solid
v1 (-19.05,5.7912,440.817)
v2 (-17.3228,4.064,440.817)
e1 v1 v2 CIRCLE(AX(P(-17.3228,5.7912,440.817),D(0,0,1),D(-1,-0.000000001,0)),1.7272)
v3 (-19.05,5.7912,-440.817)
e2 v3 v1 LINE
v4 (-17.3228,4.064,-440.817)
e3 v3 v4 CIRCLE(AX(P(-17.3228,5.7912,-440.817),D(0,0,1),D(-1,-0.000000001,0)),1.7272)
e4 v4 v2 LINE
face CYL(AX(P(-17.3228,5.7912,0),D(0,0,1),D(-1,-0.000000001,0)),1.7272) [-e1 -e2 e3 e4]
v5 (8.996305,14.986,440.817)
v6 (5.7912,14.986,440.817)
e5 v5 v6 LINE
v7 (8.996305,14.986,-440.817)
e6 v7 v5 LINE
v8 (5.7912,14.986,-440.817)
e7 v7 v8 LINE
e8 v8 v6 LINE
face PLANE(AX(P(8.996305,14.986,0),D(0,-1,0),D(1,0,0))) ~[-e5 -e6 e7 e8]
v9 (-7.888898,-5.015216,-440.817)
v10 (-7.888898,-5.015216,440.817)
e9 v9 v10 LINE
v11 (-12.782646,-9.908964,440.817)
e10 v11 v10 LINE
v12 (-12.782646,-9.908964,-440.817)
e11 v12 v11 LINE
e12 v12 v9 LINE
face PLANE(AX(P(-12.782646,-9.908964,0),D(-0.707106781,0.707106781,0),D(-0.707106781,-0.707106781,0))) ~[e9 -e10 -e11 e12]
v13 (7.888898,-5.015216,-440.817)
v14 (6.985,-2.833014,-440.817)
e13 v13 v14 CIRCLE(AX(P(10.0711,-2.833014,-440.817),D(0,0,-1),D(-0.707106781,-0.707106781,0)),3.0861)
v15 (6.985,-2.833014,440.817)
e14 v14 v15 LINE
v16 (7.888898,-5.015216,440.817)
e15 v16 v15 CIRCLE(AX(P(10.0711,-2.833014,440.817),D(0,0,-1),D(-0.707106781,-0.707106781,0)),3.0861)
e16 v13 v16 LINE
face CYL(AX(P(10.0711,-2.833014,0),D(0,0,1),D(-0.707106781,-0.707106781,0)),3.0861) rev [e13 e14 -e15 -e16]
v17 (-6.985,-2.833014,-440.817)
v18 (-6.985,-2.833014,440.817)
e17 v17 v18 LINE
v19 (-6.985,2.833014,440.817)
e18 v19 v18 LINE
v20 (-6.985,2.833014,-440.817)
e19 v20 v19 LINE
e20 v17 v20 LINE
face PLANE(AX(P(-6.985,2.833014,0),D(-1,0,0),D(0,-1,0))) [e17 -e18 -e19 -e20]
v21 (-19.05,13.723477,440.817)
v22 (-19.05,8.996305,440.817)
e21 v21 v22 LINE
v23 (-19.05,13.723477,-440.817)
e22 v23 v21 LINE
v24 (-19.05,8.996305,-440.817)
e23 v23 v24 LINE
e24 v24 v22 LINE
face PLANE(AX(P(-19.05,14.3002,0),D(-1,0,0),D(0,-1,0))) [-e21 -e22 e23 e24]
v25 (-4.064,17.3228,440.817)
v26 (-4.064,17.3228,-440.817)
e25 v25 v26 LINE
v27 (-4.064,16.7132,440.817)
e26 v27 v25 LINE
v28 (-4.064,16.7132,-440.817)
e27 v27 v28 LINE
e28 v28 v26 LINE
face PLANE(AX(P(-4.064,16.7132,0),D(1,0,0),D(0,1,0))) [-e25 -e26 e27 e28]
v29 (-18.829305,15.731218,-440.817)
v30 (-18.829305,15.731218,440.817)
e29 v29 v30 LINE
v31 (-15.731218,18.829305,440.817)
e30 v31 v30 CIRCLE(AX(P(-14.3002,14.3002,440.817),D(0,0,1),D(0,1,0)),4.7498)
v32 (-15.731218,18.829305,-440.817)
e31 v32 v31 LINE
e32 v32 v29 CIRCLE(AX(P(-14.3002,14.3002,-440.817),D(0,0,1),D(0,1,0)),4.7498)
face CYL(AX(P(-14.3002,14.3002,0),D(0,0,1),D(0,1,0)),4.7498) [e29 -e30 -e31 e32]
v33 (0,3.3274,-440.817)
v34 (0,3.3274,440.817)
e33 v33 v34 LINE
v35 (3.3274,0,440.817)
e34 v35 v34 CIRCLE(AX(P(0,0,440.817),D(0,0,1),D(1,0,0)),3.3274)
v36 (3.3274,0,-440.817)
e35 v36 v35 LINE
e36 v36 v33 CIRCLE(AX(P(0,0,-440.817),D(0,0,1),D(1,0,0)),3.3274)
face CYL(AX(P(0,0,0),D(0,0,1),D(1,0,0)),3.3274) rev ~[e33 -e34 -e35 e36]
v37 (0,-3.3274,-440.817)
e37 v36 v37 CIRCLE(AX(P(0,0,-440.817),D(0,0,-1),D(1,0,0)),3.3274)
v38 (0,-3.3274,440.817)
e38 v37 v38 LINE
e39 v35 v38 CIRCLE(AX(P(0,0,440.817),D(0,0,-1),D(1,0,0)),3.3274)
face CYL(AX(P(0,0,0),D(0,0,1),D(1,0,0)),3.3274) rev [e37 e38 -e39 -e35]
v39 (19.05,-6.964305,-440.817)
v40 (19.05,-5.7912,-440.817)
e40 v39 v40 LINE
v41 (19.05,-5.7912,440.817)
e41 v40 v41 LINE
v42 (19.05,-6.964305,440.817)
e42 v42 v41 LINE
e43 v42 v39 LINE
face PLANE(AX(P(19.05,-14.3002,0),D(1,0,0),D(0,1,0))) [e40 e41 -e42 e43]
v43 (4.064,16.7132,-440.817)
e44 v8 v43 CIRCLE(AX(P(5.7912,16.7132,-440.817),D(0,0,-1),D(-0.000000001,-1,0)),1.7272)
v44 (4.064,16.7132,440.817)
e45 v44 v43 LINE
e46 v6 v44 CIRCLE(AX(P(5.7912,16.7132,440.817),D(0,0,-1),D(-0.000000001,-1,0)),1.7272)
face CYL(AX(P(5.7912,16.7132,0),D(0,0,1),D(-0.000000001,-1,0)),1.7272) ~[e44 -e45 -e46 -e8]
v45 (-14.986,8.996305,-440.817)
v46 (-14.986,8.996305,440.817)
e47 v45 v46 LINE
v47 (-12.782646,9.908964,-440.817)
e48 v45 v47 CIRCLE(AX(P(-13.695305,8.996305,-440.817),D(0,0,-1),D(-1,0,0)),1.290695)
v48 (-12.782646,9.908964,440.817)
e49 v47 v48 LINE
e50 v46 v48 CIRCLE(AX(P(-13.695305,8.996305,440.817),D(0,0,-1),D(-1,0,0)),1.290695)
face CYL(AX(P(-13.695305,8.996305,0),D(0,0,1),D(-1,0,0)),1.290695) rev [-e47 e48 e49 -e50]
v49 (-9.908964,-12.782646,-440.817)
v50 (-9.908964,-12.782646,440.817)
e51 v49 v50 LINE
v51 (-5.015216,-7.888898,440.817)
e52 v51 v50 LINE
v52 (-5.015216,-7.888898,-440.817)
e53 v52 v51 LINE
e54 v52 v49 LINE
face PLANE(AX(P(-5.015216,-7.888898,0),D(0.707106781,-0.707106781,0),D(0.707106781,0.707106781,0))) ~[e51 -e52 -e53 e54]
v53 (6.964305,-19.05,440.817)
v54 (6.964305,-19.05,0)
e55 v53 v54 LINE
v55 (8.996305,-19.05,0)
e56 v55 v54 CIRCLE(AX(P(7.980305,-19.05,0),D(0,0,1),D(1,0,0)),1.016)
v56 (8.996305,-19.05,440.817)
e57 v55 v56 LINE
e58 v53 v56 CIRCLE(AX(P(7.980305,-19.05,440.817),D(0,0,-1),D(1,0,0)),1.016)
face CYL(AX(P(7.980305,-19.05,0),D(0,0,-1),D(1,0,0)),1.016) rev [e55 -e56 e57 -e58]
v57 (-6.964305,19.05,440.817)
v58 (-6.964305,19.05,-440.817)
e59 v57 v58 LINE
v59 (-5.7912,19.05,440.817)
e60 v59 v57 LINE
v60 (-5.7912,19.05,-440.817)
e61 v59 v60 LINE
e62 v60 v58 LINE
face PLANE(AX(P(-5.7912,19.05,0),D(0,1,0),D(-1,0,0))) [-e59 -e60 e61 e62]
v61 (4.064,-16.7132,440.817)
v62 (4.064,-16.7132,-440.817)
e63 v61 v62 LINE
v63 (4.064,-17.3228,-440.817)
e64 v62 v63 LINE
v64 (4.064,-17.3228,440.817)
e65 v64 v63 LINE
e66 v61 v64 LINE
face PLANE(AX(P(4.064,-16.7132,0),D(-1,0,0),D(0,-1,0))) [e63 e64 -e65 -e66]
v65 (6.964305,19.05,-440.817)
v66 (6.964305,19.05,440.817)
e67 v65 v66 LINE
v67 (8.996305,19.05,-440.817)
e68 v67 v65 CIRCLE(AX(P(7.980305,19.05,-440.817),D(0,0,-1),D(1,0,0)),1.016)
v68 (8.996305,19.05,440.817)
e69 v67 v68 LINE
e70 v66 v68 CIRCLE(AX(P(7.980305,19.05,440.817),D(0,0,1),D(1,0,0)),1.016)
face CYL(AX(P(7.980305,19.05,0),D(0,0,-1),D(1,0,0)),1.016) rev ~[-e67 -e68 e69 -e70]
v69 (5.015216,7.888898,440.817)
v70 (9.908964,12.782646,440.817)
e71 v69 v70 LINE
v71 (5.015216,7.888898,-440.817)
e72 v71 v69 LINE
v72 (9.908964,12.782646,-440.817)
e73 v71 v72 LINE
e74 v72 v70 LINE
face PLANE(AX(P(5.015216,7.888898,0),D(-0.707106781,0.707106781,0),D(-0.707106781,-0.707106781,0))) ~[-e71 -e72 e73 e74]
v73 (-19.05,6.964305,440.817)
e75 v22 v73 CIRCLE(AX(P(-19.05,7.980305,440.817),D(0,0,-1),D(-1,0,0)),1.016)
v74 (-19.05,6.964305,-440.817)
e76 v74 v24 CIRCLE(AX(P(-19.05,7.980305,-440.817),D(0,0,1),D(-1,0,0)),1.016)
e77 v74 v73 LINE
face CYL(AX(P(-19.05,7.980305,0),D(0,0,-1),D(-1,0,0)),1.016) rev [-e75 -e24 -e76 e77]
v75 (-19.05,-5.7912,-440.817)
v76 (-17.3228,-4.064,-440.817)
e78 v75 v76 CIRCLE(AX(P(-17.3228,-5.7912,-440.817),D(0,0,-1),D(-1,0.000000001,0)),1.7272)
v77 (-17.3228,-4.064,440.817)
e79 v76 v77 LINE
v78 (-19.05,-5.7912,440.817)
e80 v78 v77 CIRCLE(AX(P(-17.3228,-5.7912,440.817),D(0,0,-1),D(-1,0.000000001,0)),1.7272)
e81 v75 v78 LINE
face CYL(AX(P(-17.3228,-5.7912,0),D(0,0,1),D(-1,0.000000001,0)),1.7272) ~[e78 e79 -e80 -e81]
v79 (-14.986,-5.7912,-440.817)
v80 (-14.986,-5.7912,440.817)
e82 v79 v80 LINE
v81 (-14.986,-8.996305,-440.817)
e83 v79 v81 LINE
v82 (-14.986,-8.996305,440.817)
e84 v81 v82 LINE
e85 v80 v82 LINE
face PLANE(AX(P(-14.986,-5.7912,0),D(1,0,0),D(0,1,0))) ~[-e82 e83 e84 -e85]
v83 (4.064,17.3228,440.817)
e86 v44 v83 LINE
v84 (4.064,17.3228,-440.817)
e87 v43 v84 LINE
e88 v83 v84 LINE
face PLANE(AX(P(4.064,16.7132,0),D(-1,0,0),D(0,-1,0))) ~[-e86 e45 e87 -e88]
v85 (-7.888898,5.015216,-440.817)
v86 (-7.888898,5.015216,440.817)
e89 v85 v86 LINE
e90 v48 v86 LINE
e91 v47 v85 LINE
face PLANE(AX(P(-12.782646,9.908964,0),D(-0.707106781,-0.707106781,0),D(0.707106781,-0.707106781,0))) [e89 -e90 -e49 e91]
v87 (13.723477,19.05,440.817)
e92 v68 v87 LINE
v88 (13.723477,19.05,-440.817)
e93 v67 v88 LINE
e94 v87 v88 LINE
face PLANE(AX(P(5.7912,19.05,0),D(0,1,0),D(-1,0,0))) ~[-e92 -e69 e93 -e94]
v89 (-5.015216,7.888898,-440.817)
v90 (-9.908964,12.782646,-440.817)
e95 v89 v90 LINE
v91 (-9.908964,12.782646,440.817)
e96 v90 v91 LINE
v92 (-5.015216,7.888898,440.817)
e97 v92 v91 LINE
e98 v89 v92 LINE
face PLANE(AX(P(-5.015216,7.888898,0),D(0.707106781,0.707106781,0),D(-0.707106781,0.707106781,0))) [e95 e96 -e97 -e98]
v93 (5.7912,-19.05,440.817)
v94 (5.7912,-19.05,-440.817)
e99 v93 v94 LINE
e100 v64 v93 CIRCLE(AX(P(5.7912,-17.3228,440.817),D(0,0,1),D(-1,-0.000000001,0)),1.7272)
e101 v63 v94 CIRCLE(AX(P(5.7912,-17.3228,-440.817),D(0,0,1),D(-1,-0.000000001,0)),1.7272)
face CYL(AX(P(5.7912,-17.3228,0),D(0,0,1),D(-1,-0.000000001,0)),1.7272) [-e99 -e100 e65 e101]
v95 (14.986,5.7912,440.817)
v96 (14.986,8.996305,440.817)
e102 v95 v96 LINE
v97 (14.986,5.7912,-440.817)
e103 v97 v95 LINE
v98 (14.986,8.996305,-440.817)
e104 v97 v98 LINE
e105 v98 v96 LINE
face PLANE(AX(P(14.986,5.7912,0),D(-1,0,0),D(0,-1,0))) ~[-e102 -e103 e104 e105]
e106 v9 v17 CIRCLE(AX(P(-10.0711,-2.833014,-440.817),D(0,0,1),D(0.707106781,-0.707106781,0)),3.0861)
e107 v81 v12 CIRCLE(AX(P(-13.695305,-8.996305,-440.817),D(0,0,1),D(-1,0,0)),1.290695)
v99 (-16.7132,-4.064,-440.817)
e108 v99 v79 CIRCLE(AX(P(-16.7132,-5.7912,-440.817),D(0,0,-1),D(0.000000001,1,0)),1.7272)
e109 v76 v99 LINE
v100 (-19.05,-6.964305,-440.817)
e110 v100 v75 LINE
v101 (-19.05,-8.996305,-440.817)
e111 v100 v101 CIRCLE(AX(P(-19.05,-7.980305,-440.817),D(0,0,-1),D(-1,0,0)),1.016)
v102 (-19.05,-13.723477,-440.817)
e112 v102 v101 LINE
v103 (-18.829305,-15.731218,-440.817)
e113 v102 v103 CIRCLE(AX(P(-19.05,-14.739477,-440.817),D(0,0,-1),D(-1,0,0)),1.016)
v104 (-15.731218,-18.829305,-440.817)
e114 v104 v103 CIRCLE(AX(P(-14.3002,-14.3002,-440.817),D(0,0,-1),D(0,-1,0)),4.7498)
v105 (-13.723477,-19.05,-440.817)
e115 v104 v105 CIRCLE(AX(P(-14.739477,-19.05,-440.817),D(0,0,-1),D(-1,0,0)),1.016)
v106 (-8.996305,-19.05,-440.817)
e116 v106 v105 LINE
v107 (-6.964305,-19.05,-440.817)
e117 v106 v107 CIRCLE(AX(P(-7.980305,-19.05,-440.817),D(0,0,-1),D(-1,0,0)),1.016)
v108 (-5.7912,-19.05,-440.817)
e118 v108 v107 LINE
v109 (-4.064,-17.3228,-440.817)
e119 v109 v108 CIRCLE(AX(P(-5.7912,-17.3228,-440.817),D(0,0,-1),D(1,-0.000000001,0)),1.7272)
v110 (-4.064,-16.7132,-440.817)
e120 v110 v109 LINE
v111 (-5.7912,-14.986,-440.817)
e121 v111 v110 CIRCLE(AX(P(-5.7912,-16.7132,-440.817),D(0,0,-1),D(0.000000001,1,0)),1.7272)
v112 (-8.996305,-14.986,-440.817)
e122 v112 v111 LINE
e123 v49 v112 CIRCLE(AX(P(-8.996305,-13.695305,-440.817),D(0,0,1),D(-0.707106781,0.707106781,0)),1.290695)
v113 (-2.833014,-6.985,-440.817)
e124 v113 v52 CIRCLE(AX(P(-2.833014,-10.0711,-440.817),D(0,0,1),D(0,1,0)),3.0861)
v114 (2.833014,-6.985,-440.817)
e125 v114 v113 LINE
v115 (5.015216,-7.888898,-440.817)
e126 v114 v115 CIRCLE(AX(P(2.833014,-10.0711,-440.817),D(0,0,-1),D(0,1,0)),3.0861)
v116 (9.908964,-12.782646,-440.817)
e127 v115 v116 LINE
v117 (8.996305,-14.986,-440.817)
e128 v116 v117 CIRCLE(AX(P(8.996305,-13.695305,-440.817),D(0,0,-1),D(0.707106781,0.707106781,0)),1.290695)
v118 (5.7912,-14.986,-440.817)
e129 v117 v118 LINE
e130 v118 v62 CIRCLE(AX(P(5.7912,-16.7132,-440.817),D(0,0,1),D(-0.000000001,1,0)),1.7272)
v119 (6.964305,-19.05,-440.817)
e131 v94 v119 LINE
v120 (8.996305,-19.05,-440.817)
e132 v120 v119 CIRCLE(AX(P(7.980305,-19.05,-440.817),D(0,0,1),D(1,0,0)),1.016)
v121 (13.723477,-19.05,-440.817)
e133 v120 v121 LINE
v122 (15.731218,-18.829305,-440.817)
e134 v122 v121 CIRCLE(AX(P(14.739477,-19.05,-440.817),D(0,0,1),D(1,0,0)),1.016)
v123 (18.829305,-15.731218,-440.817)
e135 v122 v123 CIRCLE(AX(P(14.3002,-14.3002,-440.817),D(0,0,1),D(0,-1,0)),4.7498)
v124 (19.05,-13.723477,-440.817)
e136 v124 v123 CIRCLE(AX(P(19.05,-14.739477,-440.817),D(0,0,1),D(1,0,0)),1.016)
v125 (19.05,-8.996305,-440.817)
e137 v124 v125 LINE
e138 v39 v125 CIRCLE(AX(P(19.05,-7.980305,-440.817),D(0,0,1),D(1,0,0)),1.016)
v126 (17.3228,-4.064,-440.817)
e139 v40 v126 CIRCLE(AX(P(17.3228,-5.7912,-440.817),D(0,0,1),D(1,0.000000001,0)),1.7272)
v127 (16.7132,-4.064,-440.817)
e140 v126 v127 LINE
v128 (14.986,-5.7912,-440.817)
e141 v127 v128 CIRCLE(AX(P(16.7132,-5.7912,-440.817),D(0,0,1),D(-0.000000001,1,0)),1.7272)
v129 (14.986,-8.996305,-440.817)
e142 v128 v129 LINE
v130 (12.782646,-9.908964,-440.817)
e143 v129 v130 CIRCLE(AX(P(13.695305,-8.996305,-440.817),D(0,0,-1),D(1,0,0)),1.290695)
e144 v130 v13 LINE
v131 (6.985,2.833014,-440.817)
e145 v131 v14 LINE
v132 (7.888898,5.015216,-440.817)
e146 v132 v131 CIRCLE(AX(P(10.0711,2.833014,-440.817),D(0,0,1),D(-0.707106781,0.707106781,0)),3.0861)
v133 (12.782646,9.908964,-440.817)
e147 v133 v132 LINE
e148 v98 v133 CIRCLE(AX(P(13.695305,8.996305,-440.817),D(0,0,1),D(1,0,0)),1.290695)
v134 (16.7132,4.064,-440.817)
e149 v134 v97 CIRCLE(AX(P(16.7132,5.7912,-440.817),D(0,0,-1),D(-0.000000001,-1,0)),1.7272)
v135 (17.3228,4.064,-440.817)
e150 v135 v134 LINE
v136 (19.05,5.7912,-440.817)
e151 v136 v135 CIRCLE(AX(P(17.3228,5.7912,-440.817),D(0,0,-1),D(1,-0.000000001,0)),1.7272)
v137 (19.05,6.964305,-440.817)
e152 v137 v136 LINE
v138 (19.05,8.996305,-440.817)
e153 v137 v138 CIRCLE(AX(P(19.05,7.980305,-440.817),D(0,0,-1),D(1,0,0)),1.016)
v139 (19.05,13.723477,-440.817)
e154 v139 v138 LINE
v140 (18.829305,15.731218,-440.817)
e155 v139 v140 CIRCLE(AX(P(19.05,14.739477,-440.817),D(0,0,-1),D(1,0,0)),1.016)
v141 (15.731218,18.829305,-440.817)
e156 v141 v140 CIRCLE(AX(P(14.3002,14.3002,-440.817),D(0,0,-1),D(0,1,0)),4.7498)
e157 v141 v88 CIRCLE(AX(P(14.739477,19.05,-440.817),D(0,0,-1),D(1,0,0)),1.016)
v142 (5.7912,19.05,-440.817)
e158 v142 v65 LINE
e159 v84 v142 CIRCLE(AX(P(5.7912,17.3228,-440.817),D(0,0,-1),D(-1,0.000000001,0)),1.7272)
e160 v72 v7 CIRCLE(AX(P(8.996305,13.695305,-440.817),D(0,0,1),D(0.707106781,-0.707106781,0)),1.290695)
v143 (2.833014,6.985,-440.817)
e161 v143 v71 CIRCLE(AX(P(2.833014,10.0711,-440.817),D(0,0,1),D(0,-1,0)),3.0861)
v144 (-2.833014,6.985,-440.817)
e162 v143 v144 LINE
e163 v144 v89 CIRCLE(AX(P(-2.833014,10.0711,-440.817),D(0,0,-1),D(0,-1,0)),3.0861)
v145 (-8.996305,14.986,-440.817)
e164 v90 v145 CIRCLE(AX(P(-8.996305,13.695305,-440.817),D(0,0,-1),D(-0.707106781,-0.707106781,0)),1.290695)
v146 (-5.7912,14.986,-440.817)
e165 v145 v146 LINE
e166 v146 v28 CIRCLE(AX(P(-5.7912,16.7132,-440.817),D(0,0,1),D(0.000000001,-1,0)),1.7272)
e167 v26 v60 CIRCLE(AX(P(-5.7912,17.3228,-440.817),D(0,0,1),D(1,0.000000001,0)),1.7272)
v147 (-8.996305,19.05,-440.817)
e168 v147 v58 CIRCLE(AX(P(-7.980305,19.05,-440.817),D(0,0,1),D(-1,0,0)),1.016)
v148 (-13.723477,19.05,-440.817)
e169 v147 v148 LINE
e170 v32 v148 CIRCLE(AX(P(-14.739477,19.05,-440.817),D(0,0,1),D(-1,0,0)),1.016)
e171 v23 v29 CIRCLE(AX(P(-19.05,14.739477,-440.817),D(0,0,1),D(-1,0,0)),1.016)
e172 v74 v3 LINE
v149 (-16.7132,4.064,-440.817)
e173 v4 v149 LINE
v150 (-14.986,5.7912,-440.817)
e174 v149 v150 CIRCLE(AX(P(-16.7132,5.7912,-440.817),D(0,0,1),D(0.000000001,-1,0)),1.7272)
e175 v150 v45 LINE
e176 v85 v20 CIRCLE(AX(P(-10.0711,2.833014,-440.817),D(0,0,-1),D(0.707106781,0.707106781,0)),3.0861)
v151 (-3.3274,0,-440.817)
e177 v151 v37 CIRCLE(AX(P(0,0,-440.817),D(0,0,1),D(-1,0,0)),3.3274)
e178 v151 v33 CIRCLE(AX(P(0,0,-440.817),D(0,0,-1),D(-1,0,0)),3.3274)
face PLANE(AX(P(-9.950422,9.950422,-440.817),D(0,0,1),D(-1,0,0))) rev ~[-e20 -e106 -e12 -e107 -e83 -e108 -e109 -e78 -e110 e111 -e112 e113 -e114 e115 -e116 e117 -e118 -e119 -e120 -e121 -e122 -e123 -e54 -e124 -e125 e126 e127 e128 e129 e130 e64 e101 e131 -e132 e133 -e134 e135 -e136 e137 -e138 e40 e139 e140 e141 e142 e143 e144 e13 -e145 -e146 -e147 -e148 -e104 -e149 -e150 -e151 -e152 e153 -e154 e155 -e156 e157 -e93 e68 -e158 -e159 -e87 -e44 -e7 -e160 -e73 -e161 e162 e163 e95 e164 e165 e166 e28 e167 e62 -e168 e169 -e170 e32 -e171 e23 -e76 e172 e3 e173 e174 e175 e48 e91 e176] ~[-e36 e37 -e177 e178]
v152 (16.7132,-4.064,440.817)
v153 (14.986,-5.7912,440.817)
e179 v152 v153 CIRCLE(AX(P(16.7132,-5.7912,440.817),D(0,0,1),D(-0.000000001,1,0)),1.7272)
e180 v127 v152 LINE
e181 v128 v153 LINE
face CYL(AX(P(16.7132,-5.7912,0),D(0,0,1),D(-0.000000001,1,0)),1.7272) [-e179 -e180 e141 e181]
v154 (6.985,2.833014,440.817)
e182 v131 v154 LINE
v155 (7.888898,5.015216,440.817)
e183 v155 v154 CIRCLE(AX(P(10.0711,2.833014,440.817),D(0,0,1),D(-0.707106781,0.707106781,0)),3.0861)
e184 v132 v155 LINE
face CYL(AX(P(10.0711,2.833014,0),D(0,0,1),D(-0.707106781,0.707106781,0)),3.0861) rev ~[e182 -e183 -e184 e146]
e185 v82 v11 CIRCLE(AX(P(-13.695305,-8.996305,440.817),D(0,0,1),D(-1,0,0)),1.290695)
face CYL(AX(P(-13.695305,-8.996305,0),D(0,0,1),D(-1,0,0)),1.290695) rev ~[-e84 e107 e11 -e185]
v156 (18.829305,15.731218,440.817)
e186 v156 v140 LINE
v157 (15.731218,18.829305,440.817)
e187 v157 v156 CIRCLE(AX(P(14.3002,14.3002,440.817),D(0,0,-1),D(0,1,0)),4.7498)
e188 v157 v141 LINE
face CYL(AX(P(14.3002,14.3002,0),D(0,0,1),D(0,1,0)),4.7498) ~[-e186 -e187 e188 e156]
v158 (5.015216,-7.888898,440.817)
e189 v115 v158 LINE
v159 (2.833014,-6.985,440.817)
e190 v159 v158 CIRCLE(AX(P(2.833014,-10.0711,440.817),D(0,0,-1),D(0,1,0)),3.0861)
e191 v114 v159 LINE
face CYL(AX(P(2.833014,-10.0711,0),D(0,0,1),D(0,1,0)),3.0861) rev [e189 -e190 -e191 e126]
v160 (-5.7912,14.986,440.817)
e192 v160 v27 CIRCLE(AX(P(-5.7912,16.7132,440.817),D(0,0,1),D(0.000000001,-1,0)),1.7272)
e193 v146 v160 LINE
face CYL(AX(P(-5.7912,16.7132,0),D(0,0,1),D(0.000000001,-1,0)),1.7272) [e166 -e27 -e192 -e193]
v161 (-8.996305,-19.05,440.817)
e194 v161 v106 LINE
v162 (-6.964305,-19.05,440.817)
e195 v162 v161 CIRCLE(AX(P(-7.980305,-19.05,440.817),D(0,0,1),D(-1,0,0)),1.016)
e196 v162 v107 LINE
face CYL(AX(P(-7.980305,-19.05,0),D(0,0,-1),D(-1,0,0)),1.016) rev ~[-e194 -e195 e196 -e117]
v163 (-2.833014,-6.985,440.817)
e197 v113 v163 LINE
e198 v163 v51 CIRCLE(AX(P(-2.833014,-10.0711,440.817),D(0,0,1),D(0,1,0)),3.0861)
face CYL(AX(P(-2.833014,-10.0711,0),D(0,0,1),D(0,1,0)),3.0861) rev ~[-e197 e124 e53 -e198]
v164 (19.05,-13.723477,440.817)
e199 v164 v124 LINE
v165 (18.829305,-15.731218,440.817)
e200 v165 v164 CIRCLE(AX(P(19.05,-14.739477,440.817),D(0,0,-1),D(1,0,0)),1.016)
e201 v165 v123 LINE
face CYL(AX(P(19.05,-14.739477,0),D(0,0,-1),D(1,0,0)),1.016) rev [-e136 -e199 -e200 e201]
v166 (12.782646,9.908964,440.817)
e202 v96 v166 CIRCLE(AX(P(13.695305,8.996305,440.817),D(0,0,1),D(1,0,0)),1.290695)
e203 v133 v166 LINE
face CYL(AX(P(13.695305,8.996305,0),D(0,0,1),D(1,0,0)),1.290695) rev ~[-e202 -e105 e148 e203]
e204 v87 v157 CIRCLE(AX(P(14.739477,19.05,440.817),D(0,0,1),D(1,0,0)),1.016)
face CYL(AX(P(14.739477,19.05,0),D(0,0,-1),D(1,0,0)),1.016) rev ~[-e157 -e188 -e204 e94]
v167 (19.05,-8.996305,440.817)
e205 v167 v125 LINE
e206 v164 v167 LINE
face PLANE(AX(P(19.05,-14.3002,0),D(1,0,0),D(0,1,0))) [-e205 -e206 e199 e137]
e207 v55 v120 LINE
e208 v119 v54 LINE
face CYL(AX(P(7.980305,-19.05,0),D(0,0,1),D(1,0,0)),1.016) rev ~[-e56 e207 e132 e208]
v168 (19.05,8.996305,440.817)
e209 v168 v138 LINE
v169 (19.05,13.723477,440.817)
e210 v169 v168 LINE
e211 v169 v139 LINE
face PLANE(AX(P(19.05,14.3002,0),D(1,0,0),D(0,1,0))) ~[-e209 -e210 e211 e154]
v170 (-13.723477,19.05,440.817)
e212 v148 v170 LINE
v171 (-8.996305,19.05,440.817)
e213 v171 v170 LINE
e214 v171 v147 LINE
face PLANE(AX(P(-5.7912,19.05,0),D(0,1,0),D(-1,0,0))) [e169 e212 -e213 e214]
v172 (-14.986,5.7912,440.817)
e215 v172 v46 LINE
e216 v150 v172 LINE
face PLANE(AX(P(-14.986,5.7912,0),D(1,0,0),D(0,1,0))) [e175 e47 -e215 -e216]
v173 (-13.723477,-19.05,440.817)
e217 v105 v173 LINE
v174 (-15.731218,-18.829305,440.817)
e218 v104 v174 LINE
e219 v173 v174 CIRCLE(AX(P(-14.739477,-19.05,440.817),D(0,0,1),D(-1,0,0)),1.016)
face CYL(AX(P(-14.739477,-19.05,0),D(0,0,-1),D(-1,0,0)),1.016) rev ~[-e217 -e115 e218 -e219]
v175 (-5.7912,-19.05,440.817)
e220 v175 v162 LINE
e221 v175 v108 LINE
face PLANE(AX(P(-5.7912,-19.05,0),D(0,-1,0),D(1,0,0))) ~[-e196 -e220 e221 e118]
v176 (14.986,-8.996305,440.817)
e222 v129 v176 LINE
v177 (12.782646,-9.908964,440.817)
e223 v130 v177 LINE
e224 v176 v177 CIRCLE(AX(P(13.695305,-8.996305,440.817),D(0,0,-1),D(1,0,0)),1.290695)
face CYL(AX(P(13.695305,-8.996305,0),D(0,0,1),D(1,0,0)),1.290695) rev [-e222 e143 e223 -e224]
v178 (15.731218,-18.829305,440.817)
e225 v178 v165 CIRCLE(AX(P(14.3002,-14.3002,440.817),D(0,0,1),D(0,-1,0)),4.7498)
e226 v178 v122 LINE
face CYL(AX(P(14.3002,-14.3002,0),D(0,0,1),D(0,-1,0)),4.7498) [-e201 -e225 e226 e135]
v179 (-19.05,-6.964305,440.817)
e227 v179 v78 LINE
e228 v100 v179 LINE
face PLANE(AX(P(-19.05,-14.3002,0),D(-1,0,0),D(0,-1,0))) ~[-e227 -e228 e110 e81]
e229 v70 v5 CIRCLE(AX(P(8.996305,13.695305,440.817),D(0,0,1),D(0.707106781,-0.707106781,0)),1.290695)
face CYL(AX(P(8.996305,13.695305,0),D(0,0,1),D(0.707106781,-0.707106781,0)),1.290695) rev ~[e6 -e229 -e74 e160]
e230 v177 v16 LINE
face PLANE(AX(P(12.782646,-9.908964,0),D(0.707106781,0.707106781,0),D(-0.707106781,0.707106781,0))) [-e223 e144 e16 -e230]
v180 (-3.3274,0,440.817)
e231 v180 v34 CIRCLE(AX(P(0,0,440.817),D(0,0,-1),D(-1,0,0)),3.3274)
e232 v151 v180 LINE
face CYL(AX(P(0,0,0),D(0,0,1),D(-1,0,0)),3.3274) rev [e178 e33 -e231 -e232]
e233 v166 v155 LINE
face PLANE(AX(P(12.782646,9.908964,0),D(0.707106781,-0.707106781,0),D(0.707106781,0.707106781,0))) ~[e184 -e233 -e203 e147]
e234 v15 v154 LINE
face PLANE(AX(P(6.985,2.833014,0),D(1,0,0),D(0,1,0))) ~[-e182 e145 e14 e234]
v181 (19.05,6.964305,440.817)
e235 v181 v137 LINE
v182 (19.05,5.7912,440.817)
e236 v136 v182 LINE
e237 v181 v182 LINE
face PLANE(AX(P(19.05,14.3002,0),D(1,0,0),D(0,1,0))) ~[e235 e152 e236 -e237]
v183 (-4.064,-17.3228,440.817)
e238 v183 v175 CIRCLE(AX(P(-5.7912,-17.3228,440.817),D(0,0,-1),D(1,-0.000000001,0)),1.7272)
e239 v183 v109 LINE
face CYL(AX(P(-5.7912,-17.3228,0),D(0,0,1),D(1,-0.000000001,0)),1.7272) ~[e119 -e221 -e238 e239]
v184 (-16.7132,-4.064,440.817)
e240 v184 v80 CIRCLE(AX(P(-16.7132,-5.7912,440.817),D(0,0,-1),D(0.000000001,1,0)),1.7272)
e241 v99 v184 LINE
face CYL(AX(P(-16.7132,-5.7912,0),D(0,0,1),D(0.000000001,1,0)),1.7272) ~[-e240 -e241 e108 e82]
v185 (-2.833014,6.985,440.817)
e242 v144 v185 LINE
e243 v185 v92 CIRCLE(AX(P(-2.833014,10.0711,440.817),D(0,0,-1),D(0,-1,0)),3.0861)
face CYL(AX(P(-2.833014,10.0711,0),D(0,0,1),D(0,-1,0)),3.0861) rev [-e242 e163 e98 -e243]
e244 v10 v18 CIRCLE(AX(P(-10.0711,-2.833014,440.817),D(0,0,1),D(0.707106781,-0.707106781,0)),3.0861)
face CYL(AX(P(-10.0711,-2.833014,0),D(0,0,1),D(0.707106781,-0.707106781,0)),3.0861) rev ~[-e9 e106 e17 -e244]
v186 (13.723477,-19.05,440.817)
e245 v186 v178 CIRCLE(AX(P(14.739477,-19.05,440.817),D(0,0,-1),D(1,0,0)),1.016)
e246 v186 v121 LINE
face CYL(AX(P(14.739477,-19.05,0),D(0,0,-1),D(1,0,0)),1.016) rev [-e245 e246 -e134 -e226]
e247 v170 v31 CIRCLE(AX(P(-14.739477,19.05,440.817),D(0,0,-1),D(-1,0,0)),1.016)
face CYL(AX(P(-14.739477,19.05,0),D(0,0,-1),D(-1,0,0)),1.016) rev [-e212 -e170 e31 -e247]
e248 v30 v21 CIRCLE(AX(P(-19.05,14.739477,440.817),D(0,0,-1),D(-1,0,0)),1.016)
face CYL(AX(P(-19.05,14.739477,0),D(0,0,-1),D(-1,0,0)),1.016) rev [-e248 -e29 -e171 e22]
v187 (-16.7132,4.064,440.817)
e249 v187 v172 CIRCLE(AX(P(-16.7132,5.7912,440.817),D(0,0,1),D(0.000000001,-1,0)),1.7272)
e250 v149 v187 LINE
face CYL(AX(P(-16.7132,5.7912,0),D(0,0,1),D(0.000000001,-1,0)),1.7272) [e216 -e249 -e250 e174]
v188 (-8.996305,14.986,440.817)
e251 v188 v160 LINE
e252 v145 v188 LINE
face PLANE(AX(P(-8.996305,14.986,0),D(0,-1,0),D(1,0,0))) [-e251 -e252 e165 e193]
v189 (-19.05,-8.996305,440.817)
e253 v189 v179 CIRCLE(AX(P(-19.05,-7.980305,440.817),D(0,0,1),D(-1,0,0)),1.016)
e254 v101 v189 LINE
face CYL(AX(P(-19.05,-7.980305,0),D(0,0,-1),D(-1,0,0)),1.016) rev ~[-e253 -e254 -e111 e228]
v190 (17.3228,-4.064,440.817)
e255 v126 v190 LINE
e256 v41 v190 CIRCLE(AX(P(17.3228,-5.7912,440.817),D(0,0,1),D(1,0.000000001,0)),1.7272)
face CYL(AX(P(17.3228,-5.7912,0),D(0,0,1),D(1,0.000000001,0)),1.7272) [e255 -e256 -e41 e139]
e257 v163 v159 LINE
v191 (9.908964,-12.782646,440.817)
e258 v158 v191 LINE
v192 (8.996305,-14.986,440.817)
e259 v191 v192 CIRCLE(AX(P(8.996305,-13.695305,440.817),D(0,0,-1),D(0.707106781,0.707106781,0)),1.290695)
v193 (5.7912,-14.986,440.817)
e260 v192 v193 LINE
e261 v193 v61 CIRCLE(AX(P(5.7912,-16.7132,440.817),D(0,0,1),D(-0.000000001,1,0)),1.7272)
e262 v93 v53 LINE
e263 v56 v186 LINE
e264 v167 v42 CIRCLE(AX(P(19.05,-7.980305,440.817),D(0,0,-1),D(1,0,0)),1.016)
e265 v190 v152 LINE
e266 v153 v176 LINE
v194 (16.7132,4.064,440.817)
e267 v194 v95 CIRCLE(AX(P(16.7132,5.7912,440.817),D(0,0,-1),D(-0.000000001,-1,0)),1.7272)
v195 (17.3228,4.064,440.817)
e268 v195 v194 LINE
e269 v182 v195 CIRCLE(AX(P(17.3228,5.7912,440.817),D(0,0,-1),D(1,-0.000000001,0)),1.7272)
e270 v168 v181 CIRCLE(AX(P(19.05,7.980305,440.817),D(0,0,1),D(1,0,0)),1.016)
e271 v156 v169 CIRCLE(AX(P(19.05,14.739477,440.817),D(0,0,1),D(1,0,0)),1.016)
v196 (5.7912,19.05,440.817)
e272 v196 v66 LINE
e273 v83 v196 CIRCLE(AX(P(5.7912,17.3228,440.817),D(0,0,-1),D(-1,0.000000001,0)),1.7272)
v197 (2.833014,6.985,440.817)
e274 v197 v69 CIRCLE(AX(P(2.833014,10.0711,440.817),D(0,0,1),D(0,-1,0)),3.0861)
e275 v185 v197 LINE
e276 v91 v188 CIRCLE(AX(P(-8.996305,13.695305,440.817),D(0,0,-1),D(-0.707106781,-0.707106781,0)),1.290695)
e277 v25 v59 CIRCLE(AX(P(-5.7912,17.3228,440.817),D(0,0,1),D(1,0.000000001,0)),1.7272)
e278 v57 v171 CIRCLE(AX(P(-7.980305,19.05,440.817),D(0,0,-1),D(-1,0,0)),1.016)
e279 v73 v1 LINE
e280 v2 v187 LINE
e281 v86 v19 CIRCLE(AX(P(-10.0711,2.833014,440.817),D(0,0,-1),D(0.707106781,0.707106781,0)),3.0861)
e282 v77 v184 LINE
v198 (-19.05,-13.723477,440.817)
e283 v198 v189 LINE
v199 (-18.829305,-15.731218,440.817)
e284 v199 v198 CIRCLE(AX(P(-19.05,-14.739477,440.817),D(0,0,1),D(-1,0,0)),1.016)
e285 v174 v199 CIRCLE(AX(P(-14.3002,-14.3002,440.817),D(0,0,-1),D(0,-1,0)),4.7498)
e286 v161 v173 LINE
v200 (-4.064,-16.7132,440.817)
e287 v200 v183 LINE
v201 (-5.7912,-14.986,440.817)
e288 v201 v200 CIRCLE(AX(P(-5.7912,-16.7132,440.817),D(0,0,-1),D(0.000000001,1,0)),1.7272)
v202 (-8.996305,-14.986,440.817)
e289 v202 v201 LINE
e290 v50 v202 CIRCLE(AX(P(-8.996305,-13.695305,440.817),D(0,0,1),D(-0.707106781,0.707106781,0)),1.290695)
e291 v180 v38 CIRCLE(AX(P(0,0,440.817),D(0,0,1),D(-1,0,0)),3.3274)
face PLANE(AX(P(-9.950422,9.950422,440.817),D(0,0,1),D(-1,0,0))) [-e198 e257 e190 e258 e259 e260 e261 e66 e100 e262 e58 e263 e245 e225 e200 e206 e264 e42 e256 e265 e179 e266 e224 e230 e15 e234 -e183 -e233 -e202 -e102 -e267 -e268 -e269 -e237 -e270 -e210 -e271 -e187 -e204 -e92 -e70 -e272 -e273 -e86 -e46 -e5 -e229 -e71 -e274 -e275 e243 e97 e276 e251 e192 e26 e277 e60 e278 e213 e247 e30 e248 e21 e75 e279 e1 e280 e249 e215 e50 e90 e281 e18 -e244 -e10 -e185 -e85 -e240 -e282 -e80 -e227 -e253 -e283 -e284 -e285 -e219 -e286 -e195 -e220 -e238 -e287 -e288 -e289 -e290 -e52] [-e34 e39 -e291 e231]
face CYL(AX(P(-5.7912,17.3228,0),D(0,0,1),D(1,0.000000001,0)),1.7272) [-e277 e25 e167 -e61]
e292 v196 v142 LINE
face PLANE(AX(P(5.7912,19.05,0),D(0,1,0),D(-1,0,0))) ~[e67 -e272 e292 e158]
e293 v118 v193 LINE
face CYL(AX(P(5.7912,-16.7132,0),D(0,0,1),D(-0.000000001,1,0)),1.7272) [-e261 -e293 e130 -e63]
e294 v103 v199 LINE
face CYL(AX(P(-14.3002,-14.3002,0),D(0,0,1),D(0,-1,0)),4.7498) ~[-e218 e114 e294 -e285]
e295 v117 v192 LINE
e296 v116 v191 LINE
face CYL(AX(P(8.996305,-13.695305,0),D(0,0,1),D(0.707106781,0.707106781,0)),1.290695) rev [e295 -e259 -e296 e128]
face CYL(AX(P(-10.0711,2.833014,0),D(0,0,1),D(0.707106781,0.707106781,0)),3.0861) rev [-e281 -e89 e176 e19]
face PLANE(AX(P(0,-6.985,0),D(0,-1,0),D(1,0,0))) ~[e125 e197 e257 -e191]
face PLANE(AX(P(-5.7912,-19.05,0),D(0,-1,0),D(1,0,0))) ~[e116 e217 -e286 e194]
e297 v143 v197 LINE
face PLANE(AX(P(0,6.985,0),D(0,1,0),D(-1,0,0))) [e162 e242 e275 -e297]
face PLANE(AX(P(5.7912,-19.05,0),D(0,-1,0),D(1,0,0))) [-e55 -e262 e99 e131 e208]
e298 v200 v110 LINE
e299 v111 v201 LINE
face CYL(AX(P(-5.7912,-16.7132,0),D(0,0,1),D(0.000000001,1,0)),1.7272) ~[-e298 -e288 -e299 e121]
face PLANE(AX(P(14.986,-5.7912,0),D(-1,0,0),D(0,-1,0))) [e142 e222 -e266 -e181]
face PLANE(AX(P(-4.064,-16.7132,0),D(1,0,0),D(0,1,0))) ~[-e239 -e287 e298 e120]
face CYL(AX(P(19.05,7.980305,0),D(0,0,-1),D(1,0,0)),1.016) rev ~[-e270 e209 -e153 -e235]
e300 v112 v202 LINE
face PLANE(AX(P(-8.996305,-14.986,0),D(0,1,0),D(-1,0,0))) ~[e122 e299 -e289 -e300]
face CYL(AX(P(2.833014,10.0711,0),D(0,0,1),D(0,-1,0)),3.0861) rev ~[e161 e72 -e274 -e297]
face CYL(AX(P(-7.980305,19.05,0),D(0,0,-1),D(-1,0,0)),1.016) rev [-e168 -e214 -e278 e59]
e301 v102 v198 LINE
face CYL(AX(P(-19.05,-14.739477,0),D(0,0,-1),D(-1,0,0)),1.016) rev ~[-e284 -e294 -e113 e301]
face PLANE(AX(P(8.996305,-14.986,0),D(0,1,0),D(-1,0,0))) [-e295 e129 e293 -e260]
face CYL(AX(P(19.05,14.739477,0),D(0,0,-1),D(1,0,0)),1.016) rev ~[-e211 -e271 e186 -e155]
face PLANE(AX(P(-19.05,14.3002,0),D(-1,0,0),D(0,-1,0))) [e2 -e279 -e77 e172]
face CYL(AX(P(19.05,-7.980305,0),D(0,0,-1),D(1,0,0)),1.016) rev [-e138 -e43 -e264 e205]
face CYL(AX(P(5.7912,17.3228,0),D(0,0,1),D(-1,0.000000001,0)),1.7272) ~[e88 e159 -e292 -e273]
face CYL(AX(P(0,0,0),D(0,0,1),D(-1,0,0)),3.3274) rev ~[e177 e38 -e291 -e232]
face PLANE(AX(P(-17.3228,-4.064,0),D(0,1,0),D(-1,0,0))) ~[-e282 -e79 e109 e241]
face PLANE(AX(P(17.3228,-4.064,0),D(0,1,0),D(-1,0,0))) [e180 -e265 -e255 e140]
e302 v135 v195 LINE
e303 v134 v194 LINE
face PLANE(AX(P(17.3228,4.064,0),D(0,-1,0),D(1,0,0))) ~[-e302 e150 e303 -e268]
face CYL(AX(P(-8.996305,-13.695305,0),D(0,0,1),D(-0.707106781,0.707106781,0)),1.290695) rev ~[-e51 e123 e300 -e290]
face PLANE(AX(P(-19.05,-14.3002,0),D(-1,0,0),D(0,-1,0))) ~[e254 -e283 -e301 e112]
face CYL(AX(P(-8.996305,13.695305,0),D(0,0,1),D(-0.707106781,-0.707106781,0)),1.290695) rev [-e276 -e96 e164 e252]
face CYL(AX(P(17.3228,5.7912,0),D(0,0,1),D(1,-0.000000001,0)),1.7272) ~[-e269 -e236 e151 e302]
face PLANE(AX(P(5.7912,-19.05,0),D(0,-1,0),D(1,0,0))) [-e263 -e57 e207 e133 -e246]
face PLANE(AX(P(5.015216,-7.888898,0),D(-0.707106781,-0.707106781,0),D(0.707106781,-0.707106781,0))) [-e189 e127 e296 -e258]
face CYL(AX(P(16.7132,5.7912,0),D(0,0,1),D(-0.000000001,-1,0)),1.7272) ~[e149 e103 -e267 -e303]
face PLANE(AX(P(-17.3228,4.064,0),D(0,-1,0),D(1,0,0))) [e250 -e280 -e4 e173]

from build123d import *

# Parameters (mm, degrees)
BOSS_EXTRUDE1_DEPTH     = 440.817
SKETCH5_R               = 1.016
CUT_EXTRUDE1_DEPTH      = 441.817
CUT_EXTRUDE1_DEPTH_BACK = 441.817


with BuildPart() as part:
    # Sketch4 → Boss-Extrude1 (new body, symmetric)
    with BuildSketch(Plane.XY):
        with BuildLine():
            Line((5.7912, -19.05), (14.3002, -19.05))
            ThreePointArc((14.3002, -19.05), (17.658815789, -17.658815789), (19.05, -14.3002))
            Line((19.05, -14.3002), (19.05, -5.7912))
            ThreePointArc((19.05, -5.7912), (18.544114832, -4.569885168), (17.3228, -4.064))
            Line((17.3228, -4.064), (16.7132, -4.064))
            ThreePointArc((16.7132, -4.064), (15.491885168, -4.569885168), (14.986, -5.7912))
            Line((14.986, -5.7912), (14.986, -8.996305235))
            ThreePointArc((14.986, -8.996305235), (14.189232738, -10.188751711), (12.782646215, -9.908964256))
            Line((12.782646215, -9.908964256), (7.888897763, -5.015215804))
            ThreePointArc((7.888897763, -5.015215804), (7.219915375, -4.014012907), (6.985, -2.833013566))
            Line((6.985, -2.833013566), (6.985, 0))
            Line((6.985, 0), (3.3274, 0))
            ThreePointArc((3.3274, 0), (2.352827104, -2.352827104), (0, -3.3274))
            Line((0, -3.3274), (0, -6.985))
            Line((0, -6.985), (2.833013566, -6.985))
            ThreePointArc((2.833013566, -6.985), (4.014012907, -7.219915375), (5.015215804, -7.888897763))
            Line((5.015215804, -7.888897763), (9.908964256, -12.782646215))
            ThreePointArc((9.908964256, -12.782646215), (10.188751711, -14.189232738), (8.996305235, -14.986))
            Line((8.996305235, -14.986), (5.7912, -14.986))
            ThreePointArc((5.7912, -14.986), (4.569885168, -15.491885168), (4.064, -16.7132))
            Line((4.064, -16.7132), (4.064, -17.3228))
            ThreePointArc((4.064, -17.3228), (4.569885168, -18.544114832), (5.7912, -19.05))
        make_face()
    extrude(amount=BOSS_EXTRUDE1_DEPTH, both=True)

    # Sketch5 → Cut-Extrude1 (cut, two sides)
    with BuildSketch(Plane.XY) as cut_extrude1_sk:
        with Locations((14.739477062, -19.05)):
            Circle(SKETCH5_R)
        with Locations((7.980305235, -19.05)):
            Circle(SKETCH5_R)
        with Locations((19.05, -14.739477062)):
            Circle(SKETCH5_R)
        with Locations((19.05, -7.980305235)):
            Circle(SKETCH5_R)
    extrude(amount=CUT_EXTRUDE1_DEPTH, mode=Mode.SUBTRACT)
    extrude(cut_extrude1_sk.sketch, amount=-CUT_EXTRUDE1_DEPTH_BACK, mode=Mode.SUBTRACT)

    # Mirror1: part across plane


with BuildPart() as part_1:
    add(part.part)
    add(part.part.mirror(Plane(origin=(0, 0, 0), x_dir=(0, 0, 1), z_dir=(1, 0, 0))))

    # Mirror2: part across plane


with BuildPart() as part_2:
    add(part_1.part)
    add(part_1.part.mirror(Plane.ZX))


solid = part_2.part
